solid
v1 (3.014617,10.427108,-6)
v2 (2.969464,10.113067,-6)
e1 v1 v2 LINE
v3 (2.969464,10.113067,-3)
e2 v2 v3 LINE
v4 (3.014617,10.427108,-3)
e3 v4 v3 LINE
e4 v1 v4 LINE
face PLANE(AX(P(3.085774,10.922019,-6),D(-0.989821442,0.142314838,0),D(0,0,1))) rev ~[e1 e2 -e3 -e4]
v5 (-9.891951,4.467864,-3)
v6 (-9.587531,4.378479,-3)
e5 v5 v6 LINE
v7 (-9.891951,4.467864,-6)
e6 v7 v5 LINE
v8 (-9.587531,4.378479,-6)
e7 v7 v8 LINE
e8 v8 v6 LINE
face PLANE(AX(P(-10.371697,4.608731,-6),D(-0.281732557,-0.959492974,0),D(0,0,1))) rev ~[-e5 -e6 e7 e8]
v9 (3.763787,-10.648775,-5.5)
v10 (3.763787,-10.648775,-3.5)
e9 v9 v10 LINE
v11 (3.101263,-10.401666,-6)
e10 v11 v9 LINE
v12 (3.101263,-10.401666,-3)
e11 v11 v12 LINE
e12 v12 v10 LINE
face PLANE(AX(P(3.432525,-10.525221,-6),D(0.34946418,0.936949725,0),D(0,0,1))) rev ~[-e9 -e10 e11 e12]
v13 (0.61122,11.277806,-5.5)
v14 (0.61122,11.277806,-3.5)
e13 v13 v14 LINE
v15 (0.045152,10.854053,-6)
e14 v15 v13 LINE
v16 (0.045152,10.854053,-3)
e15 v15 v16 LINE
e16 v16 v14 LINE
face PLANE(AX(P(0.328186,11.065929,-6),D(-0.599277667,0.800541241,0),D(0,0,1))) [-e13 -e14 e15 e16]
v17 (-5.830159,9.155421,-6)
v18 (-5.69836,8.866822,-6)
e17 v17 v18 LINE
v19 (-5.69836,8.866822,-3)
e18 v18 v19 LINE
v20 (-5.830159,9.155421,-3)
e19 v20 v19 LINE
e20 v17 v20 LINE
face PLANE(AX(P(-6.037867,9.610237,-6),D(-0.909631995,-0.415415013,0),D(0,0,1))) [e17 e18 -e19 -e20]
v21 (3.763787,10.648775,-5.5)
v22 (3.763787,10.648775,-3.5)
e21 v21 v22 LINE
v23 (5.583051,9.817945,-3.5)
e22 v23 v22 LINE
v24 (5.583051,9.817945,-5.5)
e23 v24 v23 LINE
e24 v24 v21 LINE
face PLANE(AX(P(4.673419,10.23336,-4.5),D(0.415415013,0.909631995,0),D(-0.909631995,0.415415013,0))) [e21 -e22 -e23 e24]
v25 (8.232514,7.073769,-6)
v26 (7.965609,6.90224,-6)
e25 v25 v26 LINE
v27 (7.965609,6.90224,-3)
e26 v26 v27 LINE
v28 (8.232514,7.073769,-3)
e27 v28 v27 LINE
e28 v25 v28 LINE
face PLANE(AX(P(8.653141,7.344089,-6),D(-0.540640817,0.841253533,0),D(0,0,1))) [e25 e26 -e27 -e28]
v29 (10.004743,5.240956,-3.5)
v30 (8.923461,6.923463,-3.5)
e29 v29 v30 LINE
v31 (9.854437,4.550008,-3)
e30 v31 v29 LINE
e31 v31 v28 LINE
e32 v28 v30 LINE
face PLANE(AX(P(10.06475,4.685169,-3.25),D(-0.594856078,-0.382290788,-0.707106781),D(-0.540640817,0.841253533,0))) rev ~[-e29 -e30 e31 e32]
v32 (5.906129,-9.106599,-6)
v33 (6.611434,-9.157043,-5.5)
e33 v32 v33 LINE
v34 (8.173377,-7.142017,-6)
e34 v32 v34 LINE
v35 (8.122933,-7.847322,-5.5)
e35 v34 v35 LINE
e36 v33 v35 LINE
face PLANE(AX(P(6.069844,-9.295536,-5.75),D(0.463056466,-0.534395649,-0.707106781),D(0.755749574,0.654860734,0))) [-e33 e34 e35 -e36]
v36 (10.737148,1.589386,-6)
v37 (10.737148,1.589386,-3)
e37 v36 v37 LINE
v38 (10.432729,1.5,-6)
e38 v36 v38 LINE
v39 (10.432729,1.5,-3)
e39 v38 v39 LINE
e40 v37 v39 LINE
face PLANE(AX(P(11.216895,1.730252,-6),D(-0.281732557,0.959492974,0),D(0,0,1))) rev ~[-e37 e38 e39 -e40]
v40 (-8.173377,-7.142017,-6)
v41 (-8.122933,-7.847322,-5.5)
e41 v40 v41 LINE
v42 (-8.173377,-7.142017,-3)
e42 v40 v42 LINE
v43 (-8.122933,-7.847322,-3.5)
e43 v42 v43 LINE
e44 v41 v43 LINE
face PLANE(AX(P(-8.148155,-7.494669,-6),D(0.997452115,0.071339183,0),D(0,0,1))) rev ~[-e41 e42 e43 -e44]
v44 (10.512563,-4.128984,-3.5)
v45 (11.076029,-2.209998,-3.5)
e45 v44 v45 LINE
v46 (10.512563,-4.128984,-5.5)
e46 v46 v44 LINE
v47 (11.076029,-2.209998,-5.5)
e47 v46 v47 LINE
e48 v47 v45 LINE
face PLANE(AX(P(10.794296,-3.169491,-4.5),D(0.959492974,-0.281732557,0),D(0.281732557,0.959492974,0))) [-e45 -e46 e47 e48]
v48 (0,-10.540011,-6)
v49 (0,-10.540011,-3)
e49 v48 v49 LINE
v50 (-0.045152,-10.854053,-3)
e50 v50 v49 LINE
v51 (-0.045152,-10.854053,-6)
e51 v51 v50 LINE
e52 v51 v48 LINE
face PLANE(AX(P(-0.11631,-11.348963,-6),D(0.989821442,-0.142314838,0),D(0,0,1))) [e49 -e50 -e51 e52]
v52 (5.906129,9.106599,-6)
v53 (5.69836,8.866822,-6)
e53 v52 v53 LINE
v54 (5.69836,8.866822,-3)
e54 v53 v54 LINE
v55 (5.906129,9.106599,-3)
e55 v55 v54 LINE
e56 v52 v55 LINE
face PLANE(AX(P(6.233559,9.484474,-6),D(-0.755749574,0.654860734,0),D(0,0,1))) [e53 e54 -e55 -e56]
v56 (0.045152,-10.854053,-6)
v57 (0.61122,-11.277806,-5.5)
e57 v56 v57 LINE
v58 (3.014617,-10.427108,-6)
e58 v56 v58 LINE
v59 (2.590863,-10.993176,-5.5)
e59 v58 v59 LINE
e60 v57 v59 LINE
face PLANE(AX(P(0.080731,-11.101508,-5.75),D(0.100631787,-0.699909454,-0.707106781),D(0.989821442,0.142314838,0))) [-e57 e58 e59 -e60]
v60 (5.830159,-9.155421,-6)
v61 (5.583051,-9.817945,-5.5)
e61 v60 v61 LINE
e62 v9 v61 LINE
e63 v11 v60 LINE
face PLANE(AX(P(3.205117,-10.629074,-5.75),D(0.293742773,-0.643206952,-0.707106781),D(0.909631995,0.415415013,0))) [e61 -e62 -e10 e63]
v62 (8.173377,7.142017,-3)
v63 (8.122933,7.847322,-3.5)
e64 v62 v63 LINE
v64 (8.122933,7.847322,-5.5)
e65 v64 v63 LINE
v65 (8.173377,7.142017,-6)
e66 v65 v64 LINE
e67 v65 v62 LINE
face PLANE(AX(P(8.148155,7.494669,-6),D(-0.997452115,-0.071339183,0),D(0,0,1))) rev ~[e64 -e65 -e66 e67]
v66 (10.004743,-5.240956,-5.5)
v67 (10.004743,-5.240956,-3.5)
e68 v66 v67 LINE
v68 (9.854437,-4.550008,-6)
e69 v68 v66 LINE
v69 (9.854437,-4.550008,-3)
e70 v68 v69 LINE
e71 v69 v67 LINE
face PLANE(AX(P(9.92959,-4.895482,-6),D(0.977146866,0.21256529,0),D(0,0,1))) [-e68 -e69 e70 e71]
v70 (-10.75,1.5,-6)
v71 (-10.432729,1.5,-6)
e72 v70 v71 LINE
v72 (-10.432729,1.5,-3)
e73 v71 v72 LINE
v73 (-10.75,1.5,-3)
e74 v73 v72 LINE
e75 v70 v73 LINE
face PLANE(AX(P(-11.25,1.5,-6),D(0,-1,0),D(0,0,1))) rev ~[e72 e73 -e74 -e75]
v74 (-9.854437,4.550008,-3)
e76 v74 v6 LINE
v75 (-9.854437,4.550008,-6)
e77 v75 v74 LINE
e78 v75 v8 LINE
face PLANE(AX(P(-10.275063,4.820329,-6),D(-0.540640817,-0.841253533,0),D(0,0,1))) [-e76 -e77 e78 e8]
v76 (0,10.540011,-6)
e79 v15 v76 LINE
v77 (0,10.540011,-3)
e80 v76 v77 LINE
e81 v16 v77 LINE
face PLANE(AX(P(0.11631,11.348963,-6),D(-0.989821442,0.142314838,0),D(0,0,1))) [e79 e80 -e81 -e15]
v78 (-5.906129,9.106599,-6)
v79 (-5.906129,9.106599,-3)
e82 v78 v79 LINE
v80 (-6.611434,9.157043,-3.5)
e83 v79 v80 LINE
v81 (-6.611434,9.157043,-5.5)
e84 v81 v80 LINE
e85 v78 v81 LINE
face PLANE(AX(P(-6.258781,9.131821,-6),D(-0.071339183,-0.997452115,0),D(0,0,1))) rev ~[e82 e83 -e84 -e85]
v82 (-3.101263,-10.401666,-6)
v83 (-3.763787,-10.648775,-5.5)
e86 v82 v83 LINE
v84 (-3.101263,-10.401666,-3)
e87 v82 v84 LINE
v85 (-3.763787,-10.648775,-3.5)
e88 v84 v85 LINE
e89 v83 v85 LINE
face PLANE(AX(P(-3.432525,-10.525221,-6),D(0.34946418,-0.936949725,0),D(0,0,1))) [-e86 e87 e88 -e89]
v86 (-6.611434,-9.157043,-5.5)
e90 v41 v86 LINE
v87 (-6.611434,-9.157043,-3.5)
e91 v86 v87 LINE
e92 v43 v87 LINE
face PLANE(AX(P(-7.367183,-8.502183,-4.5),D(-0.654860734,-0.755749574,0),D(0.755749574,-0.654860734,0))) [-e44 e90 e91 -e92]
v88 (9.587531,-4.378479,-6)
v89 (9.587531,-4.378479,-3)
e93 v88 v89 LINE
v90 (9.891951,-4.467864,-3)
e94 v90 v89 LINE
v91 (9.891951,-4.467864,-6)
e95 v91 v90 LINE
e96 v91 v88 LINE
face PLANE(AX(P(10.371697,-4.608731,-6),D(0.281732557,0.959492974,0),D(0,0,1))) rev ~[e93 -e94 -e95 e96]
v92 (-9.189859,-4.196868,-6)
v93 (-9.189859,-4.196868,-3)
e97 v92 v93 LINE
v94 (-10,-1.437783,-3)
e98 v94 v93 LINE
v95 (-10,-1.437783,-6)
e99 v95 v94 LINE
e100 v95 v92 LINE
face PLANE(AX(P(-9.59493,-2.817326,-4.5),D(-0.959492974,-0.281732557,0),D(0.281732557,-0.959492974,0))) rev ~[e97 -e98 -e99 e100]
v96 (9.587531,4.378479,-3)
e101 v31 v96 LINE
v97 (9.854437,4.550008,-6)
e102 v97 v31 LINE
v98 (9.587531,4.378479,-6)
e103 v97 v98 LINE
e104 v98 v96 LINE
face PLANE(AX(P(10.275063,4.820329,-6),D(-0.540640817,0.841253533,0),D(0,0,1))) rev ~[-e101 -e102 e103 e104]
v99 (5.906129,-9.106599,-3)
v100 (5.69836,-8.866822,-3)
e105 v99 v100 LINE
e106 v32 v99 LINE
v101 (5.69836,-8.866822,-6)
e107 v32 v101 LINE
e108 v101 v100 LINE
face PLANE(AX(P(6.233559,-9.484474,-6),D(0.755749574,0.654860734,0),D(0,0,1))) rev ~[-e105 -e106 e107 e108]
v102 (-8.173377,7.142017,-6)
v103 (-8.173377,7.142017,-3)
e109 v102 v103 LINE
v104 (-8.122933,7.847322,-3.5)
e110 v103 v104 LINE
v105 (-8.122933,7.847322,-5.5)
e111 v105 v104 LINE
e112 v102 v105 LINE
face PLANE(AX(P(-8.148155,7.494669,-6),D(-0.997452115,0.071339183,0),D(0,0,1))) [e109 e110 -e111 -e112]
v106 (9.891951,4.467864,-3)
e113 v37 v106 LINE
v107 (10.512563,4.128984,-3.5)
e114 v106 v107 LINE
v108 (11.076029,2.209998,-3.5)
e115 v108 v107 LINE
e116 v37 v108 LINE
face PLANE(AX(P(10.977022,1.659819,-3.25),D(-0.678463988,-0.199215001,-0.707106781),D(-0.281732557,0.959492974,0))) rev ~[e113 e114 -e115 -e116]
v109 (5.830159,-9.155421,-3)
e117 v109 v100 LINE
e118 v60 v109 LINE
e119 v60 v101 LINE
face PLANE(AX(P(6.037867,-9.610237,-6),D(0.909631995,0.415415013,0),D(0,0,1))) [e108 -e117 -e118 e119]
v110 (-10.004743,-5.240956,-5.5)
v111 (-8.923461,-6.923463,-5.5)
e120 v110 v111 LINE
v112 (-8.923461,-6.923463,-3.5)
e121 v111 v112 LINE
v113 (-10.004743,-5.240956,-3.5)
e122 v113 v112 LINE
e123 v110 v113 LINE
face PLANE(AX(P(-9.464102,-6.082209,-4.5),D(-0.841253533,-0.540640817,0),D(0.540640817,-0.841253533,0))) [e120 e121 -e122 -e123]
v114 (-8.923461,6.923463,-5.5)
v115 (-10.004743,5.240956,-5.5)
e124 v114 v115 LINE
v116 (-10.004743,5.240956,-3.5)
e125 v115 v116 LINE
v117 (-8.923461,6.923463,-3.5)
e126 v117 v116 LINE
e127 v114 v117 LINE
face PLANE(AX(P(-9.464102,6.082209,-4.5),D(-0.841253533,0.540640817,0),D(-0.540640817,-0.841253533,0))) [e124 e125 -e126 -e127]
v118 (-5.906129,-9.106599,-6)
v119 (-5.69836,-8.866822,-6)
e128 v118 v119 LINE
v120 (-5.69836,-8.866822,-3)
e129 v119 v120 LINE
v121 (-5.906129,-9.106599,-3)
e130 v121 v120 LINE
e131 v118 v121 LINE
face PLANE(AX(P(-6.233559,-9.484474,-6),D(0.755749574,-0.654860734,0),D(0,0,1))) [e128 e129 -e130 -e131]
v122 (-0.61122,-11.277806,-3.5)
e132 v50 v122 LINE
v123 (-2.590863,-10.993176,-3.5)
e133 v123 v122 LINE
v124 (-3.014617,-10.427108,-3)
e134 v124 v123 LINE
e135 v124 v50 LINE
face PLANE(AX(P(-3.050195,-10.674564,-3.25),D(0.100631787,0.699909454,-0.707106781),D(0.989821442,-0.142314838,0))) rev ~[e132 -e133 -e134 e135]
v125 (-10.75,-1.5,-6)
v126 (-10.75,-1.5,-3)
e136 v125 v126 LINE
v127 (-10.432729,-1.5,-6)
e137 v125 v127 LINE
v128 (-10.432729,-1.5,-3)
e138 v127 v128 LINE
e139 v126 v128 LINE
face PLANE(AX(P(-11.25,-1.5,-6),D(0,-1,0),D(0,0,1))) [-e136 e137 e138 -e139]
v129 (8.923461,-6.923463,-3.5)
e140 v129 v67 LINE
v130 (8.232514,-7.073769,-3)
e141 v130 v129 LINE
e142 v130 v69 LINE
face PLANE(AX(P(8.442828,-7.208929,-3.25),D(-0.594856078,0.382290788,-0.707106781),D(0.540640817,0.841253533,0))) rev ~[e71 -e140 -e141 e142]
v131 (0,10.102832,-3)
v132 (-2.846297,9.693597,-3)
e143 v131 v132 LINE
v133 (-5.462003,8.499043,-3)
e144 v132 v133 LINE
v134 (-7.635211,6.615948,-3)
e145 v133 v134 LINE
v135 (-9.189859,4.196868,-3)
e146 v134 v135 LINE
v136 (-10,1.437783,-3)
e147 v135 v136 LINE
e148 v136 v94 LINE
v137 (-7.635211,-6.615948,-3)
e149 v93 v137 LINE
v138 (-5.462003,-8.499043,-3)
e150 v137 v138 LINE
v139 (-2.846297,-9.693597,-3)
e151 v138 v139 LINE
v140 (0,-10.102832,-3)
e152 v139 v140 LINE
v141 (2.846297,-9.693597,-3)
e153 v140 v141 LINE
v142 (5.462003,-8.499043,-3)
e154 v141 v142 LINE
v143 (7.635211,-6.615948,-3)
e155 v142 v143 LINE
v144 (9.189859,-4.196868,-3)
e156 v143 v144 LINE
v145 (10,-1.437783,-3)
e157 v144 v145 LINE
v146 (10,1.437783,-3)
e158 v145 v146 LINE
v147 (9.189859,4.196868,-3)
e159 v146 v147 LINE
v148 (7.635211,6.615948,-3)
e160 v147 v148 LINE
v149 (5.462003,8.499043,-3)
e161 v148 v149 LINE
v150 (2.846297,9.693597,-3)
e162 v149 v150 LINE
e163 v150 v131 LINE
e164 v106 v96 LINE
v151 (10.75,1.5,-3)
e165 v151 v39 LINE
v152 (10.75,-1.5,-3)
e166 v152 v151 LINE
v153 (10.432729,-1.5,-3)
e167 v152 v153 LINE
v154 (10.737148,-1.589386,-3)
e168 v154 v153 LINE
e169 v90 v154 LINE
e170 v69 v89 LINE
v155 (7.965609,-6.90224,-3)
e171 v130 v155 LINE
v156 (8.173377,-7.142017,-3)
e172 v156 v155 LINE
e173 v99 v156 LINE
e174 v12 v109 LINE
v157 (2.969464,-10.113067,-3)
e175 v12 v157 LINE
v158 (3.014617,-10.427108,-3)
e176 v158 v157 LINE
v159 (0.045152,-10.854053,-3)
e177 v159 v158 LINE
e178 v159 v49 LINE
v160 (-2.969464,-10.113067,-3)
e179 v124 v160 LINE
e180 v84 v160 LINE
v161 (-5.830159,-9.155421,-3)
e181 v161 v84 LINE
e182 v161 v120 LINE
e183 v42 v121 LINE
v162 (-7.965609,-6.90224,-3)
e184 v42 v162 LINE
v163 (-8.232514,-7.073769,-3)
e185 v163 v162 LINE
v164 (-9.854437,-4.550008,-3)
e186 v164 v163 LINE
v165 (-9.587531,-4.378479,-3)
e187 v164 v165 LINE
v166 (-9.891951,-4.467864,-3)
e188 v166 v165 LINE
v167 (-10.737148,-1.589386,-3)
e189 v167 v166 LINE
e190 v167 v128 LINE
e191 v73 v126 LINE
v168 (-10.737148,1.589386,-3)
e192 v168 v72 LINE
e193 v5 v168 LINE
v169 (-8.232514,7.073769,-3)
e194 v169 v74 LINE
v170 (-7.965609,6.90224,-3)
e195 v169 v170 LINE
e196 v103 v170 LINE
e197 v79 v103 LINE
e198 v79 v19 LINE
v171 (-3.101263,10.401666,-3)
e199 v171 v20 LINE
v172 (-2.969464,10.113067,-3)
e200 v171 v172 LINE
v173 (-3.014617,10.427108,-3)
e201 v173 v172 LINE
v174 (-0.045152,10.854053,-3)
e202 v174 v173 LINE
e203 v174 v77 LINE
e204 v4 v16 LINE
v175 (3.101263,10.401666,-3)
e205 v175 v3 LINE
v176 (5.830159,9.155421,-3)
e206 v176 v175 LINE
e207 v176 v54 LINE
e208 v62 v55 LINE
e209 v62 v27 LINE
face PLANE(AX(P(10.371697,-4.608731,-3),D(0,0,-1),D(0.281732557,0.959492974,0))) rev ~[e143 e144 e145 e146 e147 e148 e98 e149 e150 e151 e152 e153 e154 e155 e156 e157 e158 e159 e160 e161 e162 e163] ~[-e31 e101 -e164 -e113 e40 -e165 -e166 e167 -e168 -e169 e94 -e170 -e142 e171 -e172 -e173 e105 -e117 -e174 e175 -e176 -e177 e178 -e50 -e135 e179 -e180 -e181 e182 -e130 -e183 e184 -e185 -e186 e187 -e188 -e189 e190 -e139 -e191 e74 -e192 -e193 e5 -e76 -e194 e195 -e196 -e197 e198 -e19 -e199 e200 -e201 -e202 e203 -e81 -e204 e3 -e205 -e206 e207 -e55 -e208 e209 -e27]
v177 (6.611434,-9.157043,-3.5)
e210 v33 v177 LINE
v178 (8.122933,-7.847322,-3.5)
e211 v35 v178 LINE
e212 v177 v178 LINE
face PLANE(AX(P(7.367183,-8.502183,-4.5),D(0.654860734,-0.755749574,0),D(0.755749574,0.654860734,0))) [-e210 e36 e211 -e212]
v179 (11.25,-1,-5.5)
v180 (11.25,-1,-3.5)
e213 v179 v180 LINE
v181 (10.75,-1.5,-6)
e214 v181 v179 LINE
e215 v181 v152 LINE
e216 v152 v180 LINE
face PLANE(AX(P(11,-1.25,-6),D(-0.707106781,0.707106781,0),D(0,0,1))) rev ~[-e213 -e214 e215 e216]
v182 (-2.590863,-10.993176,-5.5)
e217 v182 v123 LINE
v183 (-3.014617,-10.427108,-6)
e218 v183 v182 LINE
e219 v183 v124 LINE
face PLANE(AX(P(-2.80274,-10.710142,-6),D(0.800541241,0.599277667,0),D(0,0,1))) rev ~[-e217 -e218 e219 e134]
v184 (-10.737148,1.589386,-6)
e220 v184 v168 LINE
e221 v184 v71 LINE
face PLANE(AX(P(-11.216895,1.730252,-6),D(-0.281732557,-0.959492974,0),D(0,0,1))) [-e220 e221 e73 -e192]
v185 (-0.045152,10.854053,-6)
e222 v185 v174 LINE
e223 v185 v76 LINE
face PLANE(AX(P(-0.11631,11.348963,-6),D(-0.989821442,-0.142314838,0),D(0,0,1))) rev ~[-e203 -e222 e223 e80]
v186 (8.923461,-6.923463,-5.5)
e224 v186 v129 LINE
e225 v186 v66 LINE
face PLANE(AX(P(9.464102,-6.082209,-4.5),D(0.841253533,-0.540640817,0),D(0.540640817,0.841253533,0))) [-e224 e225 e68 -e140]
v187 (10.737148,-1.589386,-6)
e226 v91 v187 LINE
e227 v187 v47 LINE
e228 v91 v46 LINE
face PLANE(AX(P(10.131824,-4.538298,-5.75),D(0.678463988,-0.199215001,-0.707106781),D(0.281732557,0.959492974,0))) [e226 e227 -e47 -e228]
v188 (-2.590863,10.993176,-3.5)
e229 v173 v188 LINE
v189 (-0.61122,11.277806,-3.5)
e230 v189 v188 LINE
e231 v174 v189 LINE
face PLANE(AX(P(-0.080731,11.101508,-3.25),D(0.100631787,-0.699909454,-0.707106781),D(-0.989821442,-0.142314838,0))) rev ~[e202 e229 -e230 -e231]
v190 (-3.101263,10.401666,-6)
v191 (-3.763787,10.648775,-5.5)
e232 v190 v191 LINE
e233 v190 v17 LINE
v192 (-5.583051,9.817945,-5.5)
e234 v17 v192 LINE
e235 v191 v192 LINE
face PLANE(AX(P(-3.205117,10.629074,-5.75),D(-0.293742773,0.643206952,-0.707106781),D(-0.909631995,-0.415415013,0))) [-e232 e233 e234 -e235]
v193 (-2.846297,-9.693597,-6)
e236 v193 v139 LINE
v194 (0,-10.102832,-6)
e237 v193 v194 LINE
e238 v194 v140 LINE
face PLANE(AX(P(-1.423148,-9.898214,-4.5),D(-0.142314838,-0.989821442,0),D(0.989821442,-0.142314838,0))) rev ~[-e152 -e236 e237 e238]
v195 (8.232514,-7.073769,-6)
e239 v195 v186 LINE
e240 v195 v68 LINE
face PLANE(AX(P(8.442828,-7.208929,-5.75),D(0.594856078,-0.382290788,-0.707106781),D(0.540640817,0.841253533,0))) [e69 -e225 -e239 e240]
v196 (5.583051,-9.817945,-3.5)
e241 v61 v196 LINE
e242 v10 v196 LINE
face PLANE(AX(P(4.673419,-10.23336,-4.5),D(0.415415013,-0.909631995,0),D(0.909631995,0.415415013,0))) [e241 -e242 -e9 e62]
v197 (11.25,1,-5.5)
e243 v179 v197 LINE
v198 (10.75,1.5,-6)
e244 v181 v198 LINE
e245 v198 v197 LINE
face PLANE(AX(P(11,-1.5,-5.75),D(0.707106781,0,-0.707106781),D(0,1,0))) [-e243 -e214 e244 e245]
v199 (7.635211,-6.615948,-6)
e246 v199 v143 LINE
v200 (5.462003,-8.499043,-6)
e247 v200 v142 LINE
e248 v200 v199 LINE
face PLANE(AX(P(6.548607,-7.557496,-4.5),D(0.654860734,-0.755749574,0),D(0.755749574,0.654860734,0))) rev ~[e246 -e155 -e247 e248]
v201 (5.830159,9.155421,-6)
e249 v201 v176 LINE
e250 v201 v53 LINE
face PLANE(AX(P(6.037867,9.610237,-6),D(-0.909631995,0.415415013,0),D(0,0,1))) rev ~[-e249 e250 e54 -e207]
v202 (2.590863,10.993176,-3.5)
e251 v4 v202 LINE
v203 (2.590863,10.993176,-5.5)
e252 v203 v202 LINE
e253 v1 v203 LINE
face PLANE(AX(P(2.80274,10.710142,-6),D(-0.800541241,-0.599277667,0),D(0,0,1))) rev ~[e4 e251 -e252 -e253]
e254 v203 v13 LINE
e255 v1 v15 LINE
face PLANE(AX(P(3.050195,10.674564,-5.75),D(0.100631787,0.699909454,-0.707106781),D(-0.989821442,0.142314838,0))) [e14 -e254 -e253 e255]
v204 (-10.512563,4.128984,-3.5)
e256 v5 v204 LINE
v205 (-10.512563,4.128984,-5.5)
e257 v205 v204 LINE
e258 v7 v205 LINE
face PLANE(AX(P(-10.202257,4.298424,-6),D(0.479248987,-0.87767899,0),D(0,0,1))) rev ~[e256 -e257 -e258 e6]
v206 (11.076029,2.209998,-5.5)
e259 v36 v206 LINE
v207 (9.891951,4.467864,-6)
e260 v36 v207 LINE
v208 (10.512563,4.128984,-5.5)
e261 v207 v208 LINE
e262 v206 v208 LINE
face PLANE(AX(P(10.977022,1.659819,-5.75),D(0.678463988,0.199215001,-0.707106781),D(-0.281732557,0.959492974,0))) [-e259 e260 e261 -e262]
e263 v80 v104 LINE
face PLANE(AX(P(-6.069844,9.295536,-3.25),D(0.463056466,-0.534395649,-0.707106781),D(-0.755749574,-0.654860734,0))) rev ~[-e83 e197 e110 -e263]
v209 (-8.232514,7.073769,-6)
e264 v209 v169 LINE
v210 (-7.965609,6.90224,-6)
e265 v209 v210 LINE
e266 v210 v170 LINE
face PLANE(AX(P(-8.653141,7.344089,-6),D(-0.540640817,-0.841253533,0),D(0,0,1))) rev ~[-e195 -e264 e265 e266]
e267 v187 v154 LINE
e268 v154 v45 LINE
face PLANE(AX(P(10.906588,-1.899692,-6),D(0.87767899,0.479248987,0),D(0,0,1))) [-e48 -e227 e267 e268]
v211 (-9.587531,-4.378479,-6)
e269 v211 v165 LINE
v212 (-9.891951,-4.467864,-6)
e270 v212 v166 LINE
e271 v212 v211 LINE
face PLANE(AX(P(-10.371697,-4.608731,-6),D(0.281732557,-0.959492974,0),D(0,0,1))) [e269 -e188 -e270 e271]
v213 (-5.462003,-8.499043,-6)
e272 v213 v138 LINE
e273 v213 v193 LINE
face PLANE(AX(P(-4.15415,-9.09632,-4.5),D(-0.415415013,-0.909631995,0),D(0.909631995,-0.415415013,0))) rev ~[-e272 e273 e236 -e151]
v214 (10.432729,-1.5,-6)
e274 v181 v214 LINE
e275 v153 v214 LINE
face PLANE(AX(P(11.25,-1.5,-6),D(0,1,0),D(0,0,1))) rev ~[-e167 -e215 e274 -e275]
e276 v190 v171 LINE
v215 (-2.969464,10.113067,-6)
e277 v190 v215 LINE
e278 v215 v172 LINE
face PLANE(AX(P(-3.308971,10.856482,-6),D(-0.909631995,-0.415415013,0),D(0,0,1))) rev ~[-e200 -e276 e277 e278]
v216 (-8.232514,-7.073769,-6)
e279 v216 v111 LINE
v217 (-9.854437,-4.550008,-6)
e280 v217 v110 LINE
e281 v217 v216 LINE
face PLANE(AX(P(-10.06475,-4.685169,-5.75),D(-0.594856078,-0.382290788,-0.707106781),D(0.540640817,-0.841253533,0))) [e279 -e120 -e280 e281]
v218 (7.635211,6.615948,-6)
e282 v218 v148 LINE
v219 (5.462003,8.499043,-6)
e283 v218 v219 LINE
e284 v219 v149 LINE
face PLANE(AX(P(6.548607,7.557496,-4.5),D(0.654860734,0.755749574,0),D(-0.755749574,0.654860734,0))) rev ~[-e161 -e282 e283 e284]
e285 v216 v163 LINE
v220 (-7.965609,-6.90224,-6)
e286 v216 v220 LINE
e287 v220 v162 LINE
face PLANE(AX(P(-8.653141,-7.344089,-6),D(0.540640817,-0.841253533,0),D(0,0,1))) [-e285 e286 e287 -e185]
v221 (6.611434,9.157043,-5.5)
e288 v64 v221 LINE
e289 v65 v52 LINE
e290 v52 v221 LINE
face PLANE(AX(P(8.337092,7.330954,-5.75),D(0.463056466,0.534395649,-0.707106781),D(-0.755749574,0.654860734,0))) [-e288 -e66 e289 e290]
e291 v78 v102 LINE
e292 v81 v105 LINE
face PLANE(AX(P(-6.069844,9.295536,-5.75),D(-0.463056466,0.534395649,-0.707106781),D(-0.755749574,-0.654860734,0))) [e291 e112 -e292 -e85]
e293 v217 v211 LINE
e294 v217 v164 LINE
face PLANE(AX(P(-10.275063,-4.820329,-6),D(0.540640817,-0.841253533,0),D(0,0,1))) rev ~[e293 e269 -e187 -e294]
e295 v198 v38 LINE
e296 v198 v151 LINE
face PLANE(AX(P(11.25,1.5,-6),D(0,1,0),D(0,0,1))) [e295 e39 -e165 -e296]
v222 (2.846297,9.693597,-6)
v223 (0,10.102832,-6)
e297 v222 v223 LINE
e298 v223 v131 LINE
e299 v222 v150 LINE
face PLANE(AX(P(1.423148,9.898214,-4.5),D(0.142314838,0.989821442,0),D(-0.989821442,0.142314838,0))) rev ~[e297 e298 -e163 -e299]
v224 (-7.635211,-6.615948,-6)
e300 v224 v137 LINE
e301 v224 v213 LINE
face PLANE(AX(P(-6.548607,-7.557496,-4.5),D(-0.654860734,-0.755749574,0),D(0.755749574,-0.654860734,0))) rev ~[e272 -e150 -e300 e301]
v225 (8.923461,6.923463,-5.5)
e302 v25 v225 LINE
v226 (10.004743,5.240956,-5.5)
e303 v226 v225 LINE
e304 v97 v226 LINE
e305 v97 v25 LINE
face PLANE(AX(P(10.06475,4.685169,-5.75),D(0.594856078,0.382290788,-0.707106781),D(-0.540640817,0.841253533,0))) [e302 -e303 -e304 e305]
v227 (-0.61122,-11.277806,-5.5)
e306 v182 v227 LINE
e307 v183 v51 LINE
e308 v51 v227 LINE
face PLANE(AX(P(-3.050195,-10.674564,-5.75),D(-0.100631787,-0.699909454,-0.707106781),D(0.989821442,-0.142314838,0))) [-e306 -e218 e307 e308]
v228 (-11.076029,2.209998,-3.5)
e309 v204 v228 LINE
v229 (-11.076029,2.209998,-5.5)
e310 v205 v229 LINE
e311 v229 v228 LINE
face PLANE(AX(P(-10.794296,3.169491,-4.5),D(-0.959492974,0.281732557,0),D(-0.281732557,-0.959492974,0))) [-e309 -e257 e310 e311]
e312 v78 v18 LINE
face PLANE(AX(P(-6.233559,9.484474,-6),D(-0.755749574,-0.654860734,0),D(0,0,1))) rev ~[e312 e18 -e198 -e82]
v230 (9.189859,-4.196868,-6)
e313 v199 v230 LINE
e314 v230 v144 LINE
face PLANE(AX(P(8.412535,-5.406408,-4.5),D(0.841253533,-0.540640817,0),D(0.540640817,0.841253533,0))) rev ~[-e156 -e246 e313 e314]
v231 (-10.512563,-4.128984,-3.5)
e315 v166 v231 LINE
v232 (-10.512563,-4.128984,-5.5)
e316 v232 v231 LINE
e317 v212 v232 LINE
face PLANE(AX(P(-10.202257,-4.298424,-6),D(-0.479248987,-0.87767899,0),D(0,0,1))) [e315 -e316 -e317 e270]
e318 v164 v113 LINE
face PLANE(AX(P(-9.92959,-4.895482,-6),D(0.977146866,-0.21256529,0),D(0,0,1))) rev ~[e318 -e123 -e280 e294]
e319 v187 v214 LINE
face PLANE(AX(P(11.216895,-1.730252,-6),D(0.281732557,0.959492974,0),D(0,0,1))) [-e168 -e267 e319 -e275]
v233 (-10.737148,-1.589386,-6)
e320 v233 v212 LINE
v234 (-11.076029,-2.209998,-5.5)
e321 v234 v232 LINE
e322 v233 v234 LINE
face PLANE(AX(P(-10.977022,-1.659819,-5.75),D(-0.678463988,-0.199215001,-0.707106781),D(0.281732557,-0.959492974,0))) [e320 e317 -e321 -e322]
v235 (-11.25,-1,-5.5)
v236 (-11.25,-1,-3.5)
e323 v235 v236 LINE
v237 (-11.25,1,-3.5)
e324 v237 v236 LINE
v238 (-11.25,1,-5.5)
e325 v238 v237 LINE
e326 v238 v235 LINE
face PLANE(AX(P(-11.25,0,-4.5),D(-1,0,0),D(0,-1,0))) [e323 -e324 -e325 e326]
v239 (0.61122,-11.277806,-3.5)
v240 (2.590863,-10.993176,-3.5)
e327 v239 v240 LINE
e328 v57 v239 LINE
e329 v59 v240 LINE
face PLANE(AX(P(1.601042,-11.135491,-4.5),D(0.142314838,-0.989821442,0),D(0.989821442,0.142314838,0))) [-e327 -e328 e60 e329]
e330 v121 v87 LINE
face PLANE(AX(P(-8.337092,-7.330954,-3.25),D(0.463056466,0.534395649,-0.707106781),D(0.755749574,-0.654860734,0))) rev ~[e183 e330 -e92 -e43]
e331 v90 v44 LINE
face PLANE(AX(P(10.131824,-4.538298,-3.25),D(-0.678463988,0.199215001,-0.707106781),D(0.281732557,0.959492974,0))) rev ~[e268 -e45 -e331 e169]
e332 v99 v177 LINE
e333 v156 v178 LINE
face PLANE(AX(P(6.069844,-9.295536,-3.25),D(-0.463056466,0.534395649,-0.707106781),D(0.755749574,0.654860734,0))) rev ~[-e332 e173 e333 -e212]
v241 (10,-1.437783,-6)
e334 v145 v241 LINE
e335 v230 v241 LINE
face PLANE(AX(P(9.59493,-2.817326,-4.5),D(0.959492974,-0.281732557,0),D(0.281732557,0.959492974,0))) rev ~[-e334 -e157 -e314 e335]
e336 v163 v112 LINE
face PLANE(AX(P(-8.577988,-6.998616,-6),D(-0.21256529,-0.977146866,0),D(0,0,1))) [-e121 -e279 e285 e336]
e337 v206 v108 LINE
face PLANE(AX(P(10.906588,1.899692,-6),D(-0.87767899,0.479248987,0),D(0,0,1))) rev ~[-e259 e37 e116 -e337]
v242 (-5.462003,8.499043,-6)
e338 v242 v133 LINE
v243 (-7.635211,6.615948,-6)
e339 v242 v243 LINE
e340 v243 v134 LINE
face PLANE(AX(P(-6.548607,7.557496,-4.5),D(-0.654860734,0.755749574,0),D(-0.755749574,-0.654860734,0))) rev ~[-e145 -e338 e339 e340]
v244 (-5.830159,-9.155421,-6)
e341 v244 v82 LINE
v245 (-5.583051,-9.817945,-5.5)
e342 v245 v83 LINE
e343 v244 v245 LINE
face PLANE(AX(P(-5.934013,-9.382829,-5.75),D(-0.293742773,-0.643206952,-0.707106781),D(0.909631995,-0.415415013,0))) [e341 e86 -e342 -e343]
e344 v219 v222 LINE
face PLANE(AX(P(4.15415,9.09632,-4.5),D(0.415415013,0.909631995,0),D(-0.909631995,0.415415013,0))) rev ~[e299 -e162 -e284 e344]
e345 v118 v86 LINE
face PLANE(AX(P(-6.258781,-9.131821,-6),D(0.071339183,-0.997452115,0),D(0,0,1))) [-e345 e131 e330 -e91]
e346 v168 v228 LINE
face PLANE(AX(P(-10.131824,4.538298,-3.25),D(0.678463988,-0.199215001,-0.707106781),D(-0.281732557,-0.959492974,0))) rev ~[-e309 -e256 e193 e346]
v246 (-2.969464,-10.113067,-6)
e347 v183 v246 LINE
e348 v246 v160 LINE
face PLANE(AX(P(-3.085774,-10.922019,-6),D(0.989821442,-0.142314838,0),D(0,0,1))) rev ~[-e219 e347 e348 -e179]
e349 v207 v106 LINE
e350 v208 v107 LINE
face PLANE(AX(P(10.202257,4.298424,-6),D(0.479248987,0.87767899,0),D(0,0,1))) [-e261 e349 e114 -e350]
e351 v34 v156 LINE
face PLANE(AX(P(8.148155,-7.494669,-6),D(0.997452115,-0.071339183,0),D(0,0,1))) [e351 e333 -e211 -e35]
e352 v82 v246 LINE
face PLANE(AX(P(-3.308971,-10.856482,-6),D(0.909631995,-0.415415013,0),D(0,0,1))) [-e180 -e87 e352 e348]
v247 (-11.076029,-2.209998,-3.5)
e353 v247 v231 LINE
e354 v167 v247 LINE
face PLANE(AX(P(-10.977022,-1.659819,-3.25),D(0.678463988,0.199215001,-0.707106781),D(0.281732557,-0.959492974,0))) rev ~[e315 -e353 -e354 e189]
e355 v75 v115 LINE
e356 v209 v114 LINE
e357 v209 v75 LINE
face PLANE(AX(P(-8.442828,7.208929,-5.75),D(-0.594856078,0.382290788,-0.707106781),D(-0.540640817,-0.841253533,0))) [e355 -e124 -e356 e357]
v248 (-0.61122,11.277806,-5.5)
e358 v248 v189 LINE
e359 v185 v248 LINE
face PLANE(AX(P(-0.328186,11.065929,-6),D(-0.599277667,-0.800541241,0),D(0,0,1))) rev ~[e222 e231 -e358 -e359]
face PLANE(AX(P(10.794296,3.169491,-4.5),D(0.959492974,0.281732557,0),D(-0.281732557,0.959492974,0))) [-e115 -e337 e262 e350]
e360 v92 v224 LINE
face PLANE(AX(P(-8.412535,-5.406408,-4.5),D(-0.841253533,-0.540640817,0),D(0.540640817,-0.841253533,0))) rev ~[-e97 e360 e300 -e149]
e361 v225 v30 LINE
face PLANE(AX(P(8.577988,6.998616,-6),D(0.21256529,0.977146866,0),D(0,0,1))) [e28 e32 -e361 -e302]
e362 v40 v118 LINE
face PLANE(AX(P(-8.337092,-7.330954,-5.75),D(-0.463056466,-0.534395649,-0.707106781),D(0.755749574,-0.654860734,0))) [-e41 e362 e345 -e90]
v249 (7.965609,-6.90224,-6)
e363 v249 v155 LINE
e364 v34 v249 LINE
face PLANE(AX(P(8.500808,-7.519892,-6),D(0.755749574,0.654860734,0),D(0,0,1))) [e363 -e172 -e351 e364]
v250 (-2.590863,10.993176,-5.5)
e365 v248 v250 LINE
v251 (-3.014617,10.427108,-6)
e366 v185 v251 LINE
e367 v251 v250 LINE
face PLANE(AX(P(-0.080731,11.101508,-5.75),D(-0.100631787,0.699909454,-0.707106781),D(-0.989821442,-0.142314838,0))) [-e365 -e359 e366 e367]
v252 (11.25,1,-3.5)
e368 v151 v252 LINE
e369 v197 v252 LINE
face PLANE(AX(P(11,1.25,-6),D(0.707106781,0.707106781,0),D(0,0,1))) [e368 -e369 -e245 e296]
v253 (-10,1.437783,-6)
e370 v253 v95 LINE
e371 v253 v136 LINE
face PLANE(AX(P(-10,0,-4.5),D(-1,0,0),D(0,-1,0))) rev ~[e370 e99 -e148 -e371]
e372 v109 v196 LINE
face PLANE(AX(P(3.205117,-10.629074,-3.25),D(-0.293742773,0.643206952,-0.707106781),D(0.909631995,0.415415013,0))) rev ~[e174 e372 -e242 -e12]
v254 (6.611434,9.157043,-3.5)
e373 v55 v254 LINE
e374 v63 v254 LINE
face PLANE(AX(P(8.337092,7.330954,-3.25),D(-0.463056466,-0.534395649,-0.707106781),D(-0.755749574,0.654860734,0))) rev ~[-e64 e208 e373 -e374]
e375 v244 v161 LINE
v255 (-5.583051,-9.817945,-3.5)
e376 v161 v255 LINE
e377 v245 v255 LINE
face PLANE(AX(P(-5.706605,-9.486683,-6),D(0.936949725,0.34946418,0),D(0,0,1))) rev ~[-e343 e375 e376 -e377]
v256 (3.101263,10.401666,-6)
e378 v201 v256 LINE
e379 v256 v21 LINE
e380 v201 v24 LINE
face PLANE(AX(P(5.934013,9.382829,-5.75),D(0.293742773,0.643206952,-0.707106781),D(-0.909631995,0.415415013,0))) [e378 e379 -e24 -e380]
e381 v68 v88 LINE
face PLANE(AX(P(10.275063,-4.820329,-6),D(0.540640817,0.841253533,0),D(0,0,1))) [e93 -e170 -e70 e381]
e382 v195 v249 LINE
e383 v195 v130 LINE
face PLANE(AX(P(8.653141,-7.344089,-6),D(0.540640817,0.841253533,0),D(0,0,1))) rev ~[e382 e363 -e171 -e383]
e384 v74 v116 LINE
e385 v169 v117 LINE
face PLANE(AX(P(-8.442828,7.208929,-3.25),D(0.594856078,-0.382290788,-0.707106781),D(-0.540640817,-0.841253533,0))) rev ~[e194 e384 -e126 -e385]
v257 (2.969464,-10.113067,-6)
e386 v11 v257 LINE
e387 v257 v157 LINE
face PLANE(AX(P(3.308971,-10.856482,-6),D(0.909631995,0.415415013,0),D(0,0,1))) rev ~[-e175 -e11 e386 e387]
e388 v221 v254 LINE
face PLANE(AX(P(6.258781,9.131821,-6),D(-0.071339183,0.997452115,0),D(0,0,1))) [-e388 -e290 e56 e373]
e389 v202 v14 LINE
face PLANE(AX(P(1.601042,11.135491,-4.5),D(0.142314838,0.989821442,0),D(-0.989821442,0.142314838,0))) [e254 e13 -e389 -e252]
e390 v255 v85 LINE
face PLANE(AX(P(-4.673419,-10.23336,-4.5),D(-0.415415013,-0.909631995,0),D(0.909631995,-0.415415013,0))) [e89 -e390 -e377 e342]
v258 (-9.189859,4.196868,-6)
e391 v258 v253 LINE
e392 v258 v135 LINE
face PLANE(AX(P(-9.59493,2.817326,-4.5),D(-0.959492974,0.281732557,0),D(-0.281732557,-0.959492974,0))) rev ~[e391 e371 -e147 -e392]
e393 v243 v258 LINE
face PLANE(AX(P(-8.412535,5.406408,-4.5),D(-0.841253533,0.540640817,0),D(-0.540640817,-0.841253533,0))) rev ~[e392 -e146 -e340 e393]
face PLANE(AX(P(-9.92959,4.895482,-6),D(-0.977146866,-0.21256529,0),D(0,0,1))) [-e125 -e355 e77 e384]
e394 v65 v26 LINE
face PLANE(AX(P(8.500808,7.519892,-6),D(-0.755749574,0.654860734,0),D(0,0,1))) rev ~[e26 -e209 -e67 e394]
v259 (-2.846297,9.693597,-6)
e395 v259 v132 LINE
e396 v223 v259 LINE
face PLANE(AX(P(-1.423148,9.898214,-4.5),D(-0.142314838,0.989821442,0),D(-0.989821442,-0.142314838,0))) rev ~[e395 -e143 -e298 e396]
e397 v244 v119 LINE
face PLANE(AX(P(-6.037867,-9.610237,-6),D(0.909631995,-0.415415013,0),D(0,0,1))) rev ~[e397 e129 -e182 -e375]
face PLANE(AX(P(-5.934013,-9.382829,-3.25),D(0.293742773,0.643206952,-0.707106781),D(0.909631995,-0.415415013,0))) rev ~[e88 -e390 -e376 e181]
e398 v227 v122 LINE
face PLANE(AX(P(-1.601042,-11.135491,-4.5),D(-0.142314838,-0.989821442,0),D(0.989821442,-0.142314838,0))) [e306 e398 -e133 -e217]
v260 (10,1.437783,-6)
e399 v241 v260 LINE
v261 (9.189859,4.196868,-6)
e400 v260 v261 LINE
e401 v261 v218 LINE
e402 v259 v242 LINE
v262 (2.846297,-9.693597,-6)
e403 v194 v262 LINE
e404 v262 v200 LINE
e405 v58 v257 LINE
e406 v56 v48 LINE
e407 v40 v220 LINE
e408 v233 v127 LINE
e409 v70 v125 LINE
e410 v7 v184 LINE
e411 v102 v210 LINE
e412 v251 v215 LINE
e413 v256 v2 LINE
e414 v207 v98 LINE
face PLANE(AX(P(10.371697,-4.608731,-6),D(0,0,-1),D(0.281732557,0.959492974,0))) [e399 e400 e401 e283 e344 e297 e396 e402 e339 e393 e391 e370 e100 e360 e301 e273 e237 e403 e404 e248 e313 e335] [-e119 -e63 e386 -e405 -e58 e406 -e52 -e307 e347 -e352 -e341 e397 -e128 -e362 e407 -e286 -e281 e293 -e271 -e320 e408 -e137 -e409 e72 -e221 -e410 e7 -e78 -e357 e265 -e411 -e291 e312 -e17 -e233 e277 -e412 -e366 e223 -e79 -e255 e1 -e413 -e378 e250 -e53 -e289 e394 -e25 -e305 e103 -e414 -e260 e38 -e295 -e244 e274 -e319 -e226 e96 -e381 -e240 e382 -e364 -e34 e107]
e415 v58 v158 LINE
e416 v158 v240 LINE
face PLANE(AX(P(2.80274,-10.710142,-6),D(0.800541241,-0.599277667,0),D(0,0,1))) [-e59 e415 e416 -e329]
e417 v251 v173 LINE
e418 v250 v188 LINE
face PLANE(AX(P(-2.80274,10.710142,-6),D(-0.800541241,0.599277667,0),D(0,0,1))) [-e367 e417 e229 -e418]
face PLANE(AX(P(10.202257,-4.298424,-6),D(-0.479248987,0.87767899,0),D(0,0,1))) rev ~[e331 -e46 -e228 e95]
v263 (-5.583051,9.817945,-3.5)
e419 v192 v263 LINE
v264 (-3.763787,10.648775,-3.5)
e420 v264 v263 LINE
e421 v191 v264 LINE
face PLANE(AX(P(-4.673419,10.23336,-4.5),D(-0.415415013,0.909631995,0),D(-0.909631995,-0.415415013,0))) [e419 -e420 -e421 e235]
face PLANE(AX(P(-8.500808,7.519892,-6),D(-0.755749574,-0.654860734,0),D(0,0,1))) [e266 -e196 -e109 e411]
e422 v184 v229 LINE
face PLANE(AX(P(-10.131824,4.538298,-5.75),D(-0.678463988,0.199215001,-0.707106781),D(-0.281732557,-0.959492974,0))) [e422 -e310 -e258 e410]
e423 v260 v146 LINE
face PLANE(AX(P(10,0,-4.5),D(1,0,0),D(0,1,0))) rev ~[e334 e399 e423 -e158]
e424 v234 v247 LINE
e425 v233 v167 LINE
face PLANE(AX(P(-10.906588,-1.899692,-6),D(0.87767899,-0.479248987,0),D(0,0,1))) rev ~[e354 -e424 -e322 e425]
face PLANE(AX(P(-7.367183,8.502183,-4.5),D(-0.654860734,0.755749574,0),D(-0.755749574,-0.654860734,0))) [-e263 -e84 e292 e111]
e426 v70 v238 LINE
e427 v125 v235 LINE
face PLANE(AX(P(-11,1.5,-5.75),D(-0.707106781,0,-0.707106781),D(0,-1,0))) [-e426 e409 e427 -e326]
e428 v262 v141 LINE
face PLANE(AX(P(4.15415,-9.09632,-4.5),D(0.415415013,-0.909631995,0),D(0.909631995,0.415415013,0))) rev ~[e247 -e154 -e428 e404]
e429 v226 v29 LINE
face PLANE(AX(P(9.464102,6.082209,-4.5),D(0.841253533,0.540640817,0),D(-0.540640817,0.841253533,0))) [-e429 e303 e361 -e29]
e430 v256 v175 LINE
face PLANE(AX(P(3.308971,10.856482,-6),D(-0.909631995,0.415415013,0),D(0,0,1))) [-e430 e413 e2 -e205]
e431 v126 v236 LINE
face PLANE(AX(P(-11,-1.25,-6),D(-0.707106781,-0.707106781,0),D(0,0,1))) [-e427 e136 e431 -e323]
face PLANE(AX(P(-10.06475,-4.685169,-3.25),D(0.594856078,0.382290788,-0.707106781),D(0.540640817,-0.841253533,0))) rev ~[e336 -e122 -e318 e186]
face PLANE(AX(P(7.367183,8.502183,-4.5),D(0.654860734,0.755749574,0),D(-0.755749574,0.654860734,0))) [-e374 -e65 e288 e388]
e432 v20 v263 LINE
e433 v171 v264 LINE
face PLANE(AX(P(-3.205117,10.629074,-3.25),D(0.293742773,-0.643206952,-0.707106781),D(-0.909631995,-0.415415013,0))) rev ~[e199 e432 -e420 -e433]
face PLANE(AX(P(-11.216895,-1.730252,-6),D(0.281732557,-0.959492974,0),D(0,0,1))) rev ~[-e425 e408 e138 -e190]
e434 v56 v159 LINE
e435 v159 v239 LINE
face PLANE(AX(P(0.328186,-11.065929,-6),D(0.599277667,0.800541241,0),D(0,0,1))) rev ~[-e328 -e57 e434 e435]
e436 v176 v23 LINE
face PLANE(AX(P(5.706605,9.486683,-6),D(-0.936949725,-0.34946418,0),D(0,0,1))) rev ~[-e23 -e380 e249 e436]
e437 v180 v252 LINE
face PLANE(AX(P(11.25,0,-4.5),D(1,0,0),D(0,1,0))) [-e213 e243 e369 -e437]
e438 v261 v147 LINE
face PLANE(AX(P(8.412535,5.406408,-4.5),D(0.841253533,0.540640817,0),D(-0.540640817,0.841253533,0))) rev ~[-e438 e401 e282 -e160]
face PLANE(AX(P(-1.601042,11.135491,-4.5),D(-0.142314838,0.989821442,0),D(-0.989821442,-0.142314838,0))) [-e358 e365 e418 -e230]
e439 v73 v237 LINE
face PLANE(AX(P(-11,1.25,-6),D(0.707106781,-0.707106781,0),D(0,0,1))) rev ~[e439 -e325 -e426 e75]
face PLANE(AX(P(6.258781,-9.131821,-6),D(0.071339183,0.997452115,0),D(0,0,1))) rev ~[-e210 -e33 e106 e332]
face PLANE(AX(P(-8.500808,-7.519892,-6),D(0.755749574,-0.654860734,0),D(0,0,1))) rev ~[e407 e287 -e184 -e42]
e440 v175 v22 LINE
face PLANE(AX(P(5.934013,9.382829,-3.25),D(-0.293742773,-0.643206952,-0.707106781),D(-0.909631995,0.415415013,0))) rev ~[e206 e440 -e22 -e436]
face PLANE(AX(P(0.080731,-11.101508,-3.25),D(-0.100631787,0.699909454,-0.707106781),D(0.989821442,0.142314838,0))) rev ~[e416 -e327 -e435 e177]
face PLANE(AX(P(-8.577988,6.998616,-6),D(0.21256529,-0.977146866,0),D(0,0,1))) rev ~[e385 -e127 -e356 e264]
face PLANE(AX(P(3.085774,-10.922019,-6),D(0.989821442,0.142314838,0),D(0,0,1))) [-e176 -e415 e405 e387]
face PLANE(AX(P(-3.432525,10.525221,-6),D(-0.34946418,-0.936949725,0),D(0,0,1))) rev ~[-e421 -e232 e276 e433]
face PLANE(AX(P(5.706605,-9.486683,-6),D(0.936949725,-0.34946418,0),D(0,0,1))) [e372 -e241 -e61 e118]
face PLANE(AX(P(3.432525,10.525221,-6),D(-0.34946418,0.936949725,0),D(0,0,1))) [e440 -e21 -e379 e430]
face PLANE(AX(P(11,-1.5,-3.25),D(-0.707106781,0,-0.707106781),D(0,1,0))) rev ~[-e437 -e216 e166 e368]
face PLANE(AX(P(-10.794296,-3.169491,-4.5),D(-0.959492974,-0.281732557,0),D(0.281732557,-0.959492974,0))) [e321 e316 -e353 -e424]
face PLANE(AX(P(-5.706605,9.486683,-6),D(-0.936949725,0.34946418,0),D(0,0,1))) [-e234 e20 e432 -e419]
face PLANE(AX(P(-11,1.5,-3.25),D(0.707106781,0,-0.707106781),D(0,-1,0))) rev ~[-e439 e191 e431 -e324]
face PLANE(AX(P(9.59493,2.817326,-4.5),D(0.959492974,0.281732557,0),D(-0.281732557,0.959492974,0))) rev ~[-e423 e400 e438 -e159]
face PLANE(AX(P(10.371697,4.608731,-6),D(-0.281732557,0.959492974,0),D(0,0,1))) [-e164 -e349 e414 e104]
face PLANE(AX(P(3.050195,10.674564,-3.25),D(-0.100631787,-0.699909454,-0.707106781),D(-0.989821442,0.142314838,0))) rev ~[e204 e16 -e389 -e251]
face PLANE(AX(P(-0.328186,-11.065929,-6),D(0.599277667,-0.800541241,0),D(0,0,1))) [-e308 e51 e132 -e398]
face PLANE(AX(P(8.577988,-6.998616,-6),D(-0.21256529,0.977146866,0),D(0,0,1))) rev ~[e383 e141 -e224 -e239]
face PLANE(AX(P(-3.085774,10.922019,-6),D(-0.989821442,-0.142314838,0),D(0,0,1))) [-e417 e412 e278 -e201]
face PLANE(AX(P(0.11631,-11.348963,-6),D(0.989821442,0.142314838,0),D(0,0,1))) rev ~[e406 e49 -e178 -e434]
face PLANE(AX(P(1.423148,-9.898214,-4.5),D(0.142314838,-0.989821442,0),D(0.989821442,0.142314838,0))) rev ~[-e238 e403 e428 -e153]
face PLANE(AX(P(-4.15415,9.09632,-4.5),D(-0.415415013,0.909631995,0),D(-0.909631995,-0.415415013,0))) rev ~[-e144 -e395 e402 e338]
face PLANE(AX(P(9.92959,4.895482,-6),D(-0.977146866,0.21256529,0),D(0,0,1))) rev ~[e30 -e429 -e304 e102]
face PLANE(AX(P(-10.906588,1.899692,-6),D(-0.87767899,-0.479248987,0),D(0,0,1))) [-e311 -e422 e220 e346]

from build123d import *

# Parameters (mm, degrees)
SKETCH006_W           = 3
SKETCH006_H           = 3
PAD001_DEPTH          = 1.25
CHAMFER_SIZE          = 0.5
POLARPATTERN001_COUNT = 22


with BuildPart() as part:
    # Sketch006 → Pad001 (new body)
    with BuildSketch(Plane.YZ.offset(11.25)):
        with Locations((0, -4.5)):
            Rectangle(SKETCH006_W, SKETCH006_H)
    extrude(amount=-PAD001_DEPTH)

    # Chamfer
    chamfer_edges = [part.edges().sort_by_distance(p)[0] for p in [
        (11.25, 1.5, -4.5),
        (11.25, 0, -3),
        (11.25, -1.5, -4.5),
        (11.25, 0, -6),
    ]]
    chamfer(chamfer_edges, length=CHAMFER_SIZE)

    # PolarPattern001: part ×22 about axis
    polarpattern001_axis = Axis((0, 0, 0), (0, 0, 1))


with BuildPart() as part_1:
    add(part.part)
    for i in range(1, POLARPATTERN001_COUNT):
        add(part.part.rotate(polarpattern001_axis, i * 360 / POLARPATTERN001_COUNT))


solid = part_1.part
